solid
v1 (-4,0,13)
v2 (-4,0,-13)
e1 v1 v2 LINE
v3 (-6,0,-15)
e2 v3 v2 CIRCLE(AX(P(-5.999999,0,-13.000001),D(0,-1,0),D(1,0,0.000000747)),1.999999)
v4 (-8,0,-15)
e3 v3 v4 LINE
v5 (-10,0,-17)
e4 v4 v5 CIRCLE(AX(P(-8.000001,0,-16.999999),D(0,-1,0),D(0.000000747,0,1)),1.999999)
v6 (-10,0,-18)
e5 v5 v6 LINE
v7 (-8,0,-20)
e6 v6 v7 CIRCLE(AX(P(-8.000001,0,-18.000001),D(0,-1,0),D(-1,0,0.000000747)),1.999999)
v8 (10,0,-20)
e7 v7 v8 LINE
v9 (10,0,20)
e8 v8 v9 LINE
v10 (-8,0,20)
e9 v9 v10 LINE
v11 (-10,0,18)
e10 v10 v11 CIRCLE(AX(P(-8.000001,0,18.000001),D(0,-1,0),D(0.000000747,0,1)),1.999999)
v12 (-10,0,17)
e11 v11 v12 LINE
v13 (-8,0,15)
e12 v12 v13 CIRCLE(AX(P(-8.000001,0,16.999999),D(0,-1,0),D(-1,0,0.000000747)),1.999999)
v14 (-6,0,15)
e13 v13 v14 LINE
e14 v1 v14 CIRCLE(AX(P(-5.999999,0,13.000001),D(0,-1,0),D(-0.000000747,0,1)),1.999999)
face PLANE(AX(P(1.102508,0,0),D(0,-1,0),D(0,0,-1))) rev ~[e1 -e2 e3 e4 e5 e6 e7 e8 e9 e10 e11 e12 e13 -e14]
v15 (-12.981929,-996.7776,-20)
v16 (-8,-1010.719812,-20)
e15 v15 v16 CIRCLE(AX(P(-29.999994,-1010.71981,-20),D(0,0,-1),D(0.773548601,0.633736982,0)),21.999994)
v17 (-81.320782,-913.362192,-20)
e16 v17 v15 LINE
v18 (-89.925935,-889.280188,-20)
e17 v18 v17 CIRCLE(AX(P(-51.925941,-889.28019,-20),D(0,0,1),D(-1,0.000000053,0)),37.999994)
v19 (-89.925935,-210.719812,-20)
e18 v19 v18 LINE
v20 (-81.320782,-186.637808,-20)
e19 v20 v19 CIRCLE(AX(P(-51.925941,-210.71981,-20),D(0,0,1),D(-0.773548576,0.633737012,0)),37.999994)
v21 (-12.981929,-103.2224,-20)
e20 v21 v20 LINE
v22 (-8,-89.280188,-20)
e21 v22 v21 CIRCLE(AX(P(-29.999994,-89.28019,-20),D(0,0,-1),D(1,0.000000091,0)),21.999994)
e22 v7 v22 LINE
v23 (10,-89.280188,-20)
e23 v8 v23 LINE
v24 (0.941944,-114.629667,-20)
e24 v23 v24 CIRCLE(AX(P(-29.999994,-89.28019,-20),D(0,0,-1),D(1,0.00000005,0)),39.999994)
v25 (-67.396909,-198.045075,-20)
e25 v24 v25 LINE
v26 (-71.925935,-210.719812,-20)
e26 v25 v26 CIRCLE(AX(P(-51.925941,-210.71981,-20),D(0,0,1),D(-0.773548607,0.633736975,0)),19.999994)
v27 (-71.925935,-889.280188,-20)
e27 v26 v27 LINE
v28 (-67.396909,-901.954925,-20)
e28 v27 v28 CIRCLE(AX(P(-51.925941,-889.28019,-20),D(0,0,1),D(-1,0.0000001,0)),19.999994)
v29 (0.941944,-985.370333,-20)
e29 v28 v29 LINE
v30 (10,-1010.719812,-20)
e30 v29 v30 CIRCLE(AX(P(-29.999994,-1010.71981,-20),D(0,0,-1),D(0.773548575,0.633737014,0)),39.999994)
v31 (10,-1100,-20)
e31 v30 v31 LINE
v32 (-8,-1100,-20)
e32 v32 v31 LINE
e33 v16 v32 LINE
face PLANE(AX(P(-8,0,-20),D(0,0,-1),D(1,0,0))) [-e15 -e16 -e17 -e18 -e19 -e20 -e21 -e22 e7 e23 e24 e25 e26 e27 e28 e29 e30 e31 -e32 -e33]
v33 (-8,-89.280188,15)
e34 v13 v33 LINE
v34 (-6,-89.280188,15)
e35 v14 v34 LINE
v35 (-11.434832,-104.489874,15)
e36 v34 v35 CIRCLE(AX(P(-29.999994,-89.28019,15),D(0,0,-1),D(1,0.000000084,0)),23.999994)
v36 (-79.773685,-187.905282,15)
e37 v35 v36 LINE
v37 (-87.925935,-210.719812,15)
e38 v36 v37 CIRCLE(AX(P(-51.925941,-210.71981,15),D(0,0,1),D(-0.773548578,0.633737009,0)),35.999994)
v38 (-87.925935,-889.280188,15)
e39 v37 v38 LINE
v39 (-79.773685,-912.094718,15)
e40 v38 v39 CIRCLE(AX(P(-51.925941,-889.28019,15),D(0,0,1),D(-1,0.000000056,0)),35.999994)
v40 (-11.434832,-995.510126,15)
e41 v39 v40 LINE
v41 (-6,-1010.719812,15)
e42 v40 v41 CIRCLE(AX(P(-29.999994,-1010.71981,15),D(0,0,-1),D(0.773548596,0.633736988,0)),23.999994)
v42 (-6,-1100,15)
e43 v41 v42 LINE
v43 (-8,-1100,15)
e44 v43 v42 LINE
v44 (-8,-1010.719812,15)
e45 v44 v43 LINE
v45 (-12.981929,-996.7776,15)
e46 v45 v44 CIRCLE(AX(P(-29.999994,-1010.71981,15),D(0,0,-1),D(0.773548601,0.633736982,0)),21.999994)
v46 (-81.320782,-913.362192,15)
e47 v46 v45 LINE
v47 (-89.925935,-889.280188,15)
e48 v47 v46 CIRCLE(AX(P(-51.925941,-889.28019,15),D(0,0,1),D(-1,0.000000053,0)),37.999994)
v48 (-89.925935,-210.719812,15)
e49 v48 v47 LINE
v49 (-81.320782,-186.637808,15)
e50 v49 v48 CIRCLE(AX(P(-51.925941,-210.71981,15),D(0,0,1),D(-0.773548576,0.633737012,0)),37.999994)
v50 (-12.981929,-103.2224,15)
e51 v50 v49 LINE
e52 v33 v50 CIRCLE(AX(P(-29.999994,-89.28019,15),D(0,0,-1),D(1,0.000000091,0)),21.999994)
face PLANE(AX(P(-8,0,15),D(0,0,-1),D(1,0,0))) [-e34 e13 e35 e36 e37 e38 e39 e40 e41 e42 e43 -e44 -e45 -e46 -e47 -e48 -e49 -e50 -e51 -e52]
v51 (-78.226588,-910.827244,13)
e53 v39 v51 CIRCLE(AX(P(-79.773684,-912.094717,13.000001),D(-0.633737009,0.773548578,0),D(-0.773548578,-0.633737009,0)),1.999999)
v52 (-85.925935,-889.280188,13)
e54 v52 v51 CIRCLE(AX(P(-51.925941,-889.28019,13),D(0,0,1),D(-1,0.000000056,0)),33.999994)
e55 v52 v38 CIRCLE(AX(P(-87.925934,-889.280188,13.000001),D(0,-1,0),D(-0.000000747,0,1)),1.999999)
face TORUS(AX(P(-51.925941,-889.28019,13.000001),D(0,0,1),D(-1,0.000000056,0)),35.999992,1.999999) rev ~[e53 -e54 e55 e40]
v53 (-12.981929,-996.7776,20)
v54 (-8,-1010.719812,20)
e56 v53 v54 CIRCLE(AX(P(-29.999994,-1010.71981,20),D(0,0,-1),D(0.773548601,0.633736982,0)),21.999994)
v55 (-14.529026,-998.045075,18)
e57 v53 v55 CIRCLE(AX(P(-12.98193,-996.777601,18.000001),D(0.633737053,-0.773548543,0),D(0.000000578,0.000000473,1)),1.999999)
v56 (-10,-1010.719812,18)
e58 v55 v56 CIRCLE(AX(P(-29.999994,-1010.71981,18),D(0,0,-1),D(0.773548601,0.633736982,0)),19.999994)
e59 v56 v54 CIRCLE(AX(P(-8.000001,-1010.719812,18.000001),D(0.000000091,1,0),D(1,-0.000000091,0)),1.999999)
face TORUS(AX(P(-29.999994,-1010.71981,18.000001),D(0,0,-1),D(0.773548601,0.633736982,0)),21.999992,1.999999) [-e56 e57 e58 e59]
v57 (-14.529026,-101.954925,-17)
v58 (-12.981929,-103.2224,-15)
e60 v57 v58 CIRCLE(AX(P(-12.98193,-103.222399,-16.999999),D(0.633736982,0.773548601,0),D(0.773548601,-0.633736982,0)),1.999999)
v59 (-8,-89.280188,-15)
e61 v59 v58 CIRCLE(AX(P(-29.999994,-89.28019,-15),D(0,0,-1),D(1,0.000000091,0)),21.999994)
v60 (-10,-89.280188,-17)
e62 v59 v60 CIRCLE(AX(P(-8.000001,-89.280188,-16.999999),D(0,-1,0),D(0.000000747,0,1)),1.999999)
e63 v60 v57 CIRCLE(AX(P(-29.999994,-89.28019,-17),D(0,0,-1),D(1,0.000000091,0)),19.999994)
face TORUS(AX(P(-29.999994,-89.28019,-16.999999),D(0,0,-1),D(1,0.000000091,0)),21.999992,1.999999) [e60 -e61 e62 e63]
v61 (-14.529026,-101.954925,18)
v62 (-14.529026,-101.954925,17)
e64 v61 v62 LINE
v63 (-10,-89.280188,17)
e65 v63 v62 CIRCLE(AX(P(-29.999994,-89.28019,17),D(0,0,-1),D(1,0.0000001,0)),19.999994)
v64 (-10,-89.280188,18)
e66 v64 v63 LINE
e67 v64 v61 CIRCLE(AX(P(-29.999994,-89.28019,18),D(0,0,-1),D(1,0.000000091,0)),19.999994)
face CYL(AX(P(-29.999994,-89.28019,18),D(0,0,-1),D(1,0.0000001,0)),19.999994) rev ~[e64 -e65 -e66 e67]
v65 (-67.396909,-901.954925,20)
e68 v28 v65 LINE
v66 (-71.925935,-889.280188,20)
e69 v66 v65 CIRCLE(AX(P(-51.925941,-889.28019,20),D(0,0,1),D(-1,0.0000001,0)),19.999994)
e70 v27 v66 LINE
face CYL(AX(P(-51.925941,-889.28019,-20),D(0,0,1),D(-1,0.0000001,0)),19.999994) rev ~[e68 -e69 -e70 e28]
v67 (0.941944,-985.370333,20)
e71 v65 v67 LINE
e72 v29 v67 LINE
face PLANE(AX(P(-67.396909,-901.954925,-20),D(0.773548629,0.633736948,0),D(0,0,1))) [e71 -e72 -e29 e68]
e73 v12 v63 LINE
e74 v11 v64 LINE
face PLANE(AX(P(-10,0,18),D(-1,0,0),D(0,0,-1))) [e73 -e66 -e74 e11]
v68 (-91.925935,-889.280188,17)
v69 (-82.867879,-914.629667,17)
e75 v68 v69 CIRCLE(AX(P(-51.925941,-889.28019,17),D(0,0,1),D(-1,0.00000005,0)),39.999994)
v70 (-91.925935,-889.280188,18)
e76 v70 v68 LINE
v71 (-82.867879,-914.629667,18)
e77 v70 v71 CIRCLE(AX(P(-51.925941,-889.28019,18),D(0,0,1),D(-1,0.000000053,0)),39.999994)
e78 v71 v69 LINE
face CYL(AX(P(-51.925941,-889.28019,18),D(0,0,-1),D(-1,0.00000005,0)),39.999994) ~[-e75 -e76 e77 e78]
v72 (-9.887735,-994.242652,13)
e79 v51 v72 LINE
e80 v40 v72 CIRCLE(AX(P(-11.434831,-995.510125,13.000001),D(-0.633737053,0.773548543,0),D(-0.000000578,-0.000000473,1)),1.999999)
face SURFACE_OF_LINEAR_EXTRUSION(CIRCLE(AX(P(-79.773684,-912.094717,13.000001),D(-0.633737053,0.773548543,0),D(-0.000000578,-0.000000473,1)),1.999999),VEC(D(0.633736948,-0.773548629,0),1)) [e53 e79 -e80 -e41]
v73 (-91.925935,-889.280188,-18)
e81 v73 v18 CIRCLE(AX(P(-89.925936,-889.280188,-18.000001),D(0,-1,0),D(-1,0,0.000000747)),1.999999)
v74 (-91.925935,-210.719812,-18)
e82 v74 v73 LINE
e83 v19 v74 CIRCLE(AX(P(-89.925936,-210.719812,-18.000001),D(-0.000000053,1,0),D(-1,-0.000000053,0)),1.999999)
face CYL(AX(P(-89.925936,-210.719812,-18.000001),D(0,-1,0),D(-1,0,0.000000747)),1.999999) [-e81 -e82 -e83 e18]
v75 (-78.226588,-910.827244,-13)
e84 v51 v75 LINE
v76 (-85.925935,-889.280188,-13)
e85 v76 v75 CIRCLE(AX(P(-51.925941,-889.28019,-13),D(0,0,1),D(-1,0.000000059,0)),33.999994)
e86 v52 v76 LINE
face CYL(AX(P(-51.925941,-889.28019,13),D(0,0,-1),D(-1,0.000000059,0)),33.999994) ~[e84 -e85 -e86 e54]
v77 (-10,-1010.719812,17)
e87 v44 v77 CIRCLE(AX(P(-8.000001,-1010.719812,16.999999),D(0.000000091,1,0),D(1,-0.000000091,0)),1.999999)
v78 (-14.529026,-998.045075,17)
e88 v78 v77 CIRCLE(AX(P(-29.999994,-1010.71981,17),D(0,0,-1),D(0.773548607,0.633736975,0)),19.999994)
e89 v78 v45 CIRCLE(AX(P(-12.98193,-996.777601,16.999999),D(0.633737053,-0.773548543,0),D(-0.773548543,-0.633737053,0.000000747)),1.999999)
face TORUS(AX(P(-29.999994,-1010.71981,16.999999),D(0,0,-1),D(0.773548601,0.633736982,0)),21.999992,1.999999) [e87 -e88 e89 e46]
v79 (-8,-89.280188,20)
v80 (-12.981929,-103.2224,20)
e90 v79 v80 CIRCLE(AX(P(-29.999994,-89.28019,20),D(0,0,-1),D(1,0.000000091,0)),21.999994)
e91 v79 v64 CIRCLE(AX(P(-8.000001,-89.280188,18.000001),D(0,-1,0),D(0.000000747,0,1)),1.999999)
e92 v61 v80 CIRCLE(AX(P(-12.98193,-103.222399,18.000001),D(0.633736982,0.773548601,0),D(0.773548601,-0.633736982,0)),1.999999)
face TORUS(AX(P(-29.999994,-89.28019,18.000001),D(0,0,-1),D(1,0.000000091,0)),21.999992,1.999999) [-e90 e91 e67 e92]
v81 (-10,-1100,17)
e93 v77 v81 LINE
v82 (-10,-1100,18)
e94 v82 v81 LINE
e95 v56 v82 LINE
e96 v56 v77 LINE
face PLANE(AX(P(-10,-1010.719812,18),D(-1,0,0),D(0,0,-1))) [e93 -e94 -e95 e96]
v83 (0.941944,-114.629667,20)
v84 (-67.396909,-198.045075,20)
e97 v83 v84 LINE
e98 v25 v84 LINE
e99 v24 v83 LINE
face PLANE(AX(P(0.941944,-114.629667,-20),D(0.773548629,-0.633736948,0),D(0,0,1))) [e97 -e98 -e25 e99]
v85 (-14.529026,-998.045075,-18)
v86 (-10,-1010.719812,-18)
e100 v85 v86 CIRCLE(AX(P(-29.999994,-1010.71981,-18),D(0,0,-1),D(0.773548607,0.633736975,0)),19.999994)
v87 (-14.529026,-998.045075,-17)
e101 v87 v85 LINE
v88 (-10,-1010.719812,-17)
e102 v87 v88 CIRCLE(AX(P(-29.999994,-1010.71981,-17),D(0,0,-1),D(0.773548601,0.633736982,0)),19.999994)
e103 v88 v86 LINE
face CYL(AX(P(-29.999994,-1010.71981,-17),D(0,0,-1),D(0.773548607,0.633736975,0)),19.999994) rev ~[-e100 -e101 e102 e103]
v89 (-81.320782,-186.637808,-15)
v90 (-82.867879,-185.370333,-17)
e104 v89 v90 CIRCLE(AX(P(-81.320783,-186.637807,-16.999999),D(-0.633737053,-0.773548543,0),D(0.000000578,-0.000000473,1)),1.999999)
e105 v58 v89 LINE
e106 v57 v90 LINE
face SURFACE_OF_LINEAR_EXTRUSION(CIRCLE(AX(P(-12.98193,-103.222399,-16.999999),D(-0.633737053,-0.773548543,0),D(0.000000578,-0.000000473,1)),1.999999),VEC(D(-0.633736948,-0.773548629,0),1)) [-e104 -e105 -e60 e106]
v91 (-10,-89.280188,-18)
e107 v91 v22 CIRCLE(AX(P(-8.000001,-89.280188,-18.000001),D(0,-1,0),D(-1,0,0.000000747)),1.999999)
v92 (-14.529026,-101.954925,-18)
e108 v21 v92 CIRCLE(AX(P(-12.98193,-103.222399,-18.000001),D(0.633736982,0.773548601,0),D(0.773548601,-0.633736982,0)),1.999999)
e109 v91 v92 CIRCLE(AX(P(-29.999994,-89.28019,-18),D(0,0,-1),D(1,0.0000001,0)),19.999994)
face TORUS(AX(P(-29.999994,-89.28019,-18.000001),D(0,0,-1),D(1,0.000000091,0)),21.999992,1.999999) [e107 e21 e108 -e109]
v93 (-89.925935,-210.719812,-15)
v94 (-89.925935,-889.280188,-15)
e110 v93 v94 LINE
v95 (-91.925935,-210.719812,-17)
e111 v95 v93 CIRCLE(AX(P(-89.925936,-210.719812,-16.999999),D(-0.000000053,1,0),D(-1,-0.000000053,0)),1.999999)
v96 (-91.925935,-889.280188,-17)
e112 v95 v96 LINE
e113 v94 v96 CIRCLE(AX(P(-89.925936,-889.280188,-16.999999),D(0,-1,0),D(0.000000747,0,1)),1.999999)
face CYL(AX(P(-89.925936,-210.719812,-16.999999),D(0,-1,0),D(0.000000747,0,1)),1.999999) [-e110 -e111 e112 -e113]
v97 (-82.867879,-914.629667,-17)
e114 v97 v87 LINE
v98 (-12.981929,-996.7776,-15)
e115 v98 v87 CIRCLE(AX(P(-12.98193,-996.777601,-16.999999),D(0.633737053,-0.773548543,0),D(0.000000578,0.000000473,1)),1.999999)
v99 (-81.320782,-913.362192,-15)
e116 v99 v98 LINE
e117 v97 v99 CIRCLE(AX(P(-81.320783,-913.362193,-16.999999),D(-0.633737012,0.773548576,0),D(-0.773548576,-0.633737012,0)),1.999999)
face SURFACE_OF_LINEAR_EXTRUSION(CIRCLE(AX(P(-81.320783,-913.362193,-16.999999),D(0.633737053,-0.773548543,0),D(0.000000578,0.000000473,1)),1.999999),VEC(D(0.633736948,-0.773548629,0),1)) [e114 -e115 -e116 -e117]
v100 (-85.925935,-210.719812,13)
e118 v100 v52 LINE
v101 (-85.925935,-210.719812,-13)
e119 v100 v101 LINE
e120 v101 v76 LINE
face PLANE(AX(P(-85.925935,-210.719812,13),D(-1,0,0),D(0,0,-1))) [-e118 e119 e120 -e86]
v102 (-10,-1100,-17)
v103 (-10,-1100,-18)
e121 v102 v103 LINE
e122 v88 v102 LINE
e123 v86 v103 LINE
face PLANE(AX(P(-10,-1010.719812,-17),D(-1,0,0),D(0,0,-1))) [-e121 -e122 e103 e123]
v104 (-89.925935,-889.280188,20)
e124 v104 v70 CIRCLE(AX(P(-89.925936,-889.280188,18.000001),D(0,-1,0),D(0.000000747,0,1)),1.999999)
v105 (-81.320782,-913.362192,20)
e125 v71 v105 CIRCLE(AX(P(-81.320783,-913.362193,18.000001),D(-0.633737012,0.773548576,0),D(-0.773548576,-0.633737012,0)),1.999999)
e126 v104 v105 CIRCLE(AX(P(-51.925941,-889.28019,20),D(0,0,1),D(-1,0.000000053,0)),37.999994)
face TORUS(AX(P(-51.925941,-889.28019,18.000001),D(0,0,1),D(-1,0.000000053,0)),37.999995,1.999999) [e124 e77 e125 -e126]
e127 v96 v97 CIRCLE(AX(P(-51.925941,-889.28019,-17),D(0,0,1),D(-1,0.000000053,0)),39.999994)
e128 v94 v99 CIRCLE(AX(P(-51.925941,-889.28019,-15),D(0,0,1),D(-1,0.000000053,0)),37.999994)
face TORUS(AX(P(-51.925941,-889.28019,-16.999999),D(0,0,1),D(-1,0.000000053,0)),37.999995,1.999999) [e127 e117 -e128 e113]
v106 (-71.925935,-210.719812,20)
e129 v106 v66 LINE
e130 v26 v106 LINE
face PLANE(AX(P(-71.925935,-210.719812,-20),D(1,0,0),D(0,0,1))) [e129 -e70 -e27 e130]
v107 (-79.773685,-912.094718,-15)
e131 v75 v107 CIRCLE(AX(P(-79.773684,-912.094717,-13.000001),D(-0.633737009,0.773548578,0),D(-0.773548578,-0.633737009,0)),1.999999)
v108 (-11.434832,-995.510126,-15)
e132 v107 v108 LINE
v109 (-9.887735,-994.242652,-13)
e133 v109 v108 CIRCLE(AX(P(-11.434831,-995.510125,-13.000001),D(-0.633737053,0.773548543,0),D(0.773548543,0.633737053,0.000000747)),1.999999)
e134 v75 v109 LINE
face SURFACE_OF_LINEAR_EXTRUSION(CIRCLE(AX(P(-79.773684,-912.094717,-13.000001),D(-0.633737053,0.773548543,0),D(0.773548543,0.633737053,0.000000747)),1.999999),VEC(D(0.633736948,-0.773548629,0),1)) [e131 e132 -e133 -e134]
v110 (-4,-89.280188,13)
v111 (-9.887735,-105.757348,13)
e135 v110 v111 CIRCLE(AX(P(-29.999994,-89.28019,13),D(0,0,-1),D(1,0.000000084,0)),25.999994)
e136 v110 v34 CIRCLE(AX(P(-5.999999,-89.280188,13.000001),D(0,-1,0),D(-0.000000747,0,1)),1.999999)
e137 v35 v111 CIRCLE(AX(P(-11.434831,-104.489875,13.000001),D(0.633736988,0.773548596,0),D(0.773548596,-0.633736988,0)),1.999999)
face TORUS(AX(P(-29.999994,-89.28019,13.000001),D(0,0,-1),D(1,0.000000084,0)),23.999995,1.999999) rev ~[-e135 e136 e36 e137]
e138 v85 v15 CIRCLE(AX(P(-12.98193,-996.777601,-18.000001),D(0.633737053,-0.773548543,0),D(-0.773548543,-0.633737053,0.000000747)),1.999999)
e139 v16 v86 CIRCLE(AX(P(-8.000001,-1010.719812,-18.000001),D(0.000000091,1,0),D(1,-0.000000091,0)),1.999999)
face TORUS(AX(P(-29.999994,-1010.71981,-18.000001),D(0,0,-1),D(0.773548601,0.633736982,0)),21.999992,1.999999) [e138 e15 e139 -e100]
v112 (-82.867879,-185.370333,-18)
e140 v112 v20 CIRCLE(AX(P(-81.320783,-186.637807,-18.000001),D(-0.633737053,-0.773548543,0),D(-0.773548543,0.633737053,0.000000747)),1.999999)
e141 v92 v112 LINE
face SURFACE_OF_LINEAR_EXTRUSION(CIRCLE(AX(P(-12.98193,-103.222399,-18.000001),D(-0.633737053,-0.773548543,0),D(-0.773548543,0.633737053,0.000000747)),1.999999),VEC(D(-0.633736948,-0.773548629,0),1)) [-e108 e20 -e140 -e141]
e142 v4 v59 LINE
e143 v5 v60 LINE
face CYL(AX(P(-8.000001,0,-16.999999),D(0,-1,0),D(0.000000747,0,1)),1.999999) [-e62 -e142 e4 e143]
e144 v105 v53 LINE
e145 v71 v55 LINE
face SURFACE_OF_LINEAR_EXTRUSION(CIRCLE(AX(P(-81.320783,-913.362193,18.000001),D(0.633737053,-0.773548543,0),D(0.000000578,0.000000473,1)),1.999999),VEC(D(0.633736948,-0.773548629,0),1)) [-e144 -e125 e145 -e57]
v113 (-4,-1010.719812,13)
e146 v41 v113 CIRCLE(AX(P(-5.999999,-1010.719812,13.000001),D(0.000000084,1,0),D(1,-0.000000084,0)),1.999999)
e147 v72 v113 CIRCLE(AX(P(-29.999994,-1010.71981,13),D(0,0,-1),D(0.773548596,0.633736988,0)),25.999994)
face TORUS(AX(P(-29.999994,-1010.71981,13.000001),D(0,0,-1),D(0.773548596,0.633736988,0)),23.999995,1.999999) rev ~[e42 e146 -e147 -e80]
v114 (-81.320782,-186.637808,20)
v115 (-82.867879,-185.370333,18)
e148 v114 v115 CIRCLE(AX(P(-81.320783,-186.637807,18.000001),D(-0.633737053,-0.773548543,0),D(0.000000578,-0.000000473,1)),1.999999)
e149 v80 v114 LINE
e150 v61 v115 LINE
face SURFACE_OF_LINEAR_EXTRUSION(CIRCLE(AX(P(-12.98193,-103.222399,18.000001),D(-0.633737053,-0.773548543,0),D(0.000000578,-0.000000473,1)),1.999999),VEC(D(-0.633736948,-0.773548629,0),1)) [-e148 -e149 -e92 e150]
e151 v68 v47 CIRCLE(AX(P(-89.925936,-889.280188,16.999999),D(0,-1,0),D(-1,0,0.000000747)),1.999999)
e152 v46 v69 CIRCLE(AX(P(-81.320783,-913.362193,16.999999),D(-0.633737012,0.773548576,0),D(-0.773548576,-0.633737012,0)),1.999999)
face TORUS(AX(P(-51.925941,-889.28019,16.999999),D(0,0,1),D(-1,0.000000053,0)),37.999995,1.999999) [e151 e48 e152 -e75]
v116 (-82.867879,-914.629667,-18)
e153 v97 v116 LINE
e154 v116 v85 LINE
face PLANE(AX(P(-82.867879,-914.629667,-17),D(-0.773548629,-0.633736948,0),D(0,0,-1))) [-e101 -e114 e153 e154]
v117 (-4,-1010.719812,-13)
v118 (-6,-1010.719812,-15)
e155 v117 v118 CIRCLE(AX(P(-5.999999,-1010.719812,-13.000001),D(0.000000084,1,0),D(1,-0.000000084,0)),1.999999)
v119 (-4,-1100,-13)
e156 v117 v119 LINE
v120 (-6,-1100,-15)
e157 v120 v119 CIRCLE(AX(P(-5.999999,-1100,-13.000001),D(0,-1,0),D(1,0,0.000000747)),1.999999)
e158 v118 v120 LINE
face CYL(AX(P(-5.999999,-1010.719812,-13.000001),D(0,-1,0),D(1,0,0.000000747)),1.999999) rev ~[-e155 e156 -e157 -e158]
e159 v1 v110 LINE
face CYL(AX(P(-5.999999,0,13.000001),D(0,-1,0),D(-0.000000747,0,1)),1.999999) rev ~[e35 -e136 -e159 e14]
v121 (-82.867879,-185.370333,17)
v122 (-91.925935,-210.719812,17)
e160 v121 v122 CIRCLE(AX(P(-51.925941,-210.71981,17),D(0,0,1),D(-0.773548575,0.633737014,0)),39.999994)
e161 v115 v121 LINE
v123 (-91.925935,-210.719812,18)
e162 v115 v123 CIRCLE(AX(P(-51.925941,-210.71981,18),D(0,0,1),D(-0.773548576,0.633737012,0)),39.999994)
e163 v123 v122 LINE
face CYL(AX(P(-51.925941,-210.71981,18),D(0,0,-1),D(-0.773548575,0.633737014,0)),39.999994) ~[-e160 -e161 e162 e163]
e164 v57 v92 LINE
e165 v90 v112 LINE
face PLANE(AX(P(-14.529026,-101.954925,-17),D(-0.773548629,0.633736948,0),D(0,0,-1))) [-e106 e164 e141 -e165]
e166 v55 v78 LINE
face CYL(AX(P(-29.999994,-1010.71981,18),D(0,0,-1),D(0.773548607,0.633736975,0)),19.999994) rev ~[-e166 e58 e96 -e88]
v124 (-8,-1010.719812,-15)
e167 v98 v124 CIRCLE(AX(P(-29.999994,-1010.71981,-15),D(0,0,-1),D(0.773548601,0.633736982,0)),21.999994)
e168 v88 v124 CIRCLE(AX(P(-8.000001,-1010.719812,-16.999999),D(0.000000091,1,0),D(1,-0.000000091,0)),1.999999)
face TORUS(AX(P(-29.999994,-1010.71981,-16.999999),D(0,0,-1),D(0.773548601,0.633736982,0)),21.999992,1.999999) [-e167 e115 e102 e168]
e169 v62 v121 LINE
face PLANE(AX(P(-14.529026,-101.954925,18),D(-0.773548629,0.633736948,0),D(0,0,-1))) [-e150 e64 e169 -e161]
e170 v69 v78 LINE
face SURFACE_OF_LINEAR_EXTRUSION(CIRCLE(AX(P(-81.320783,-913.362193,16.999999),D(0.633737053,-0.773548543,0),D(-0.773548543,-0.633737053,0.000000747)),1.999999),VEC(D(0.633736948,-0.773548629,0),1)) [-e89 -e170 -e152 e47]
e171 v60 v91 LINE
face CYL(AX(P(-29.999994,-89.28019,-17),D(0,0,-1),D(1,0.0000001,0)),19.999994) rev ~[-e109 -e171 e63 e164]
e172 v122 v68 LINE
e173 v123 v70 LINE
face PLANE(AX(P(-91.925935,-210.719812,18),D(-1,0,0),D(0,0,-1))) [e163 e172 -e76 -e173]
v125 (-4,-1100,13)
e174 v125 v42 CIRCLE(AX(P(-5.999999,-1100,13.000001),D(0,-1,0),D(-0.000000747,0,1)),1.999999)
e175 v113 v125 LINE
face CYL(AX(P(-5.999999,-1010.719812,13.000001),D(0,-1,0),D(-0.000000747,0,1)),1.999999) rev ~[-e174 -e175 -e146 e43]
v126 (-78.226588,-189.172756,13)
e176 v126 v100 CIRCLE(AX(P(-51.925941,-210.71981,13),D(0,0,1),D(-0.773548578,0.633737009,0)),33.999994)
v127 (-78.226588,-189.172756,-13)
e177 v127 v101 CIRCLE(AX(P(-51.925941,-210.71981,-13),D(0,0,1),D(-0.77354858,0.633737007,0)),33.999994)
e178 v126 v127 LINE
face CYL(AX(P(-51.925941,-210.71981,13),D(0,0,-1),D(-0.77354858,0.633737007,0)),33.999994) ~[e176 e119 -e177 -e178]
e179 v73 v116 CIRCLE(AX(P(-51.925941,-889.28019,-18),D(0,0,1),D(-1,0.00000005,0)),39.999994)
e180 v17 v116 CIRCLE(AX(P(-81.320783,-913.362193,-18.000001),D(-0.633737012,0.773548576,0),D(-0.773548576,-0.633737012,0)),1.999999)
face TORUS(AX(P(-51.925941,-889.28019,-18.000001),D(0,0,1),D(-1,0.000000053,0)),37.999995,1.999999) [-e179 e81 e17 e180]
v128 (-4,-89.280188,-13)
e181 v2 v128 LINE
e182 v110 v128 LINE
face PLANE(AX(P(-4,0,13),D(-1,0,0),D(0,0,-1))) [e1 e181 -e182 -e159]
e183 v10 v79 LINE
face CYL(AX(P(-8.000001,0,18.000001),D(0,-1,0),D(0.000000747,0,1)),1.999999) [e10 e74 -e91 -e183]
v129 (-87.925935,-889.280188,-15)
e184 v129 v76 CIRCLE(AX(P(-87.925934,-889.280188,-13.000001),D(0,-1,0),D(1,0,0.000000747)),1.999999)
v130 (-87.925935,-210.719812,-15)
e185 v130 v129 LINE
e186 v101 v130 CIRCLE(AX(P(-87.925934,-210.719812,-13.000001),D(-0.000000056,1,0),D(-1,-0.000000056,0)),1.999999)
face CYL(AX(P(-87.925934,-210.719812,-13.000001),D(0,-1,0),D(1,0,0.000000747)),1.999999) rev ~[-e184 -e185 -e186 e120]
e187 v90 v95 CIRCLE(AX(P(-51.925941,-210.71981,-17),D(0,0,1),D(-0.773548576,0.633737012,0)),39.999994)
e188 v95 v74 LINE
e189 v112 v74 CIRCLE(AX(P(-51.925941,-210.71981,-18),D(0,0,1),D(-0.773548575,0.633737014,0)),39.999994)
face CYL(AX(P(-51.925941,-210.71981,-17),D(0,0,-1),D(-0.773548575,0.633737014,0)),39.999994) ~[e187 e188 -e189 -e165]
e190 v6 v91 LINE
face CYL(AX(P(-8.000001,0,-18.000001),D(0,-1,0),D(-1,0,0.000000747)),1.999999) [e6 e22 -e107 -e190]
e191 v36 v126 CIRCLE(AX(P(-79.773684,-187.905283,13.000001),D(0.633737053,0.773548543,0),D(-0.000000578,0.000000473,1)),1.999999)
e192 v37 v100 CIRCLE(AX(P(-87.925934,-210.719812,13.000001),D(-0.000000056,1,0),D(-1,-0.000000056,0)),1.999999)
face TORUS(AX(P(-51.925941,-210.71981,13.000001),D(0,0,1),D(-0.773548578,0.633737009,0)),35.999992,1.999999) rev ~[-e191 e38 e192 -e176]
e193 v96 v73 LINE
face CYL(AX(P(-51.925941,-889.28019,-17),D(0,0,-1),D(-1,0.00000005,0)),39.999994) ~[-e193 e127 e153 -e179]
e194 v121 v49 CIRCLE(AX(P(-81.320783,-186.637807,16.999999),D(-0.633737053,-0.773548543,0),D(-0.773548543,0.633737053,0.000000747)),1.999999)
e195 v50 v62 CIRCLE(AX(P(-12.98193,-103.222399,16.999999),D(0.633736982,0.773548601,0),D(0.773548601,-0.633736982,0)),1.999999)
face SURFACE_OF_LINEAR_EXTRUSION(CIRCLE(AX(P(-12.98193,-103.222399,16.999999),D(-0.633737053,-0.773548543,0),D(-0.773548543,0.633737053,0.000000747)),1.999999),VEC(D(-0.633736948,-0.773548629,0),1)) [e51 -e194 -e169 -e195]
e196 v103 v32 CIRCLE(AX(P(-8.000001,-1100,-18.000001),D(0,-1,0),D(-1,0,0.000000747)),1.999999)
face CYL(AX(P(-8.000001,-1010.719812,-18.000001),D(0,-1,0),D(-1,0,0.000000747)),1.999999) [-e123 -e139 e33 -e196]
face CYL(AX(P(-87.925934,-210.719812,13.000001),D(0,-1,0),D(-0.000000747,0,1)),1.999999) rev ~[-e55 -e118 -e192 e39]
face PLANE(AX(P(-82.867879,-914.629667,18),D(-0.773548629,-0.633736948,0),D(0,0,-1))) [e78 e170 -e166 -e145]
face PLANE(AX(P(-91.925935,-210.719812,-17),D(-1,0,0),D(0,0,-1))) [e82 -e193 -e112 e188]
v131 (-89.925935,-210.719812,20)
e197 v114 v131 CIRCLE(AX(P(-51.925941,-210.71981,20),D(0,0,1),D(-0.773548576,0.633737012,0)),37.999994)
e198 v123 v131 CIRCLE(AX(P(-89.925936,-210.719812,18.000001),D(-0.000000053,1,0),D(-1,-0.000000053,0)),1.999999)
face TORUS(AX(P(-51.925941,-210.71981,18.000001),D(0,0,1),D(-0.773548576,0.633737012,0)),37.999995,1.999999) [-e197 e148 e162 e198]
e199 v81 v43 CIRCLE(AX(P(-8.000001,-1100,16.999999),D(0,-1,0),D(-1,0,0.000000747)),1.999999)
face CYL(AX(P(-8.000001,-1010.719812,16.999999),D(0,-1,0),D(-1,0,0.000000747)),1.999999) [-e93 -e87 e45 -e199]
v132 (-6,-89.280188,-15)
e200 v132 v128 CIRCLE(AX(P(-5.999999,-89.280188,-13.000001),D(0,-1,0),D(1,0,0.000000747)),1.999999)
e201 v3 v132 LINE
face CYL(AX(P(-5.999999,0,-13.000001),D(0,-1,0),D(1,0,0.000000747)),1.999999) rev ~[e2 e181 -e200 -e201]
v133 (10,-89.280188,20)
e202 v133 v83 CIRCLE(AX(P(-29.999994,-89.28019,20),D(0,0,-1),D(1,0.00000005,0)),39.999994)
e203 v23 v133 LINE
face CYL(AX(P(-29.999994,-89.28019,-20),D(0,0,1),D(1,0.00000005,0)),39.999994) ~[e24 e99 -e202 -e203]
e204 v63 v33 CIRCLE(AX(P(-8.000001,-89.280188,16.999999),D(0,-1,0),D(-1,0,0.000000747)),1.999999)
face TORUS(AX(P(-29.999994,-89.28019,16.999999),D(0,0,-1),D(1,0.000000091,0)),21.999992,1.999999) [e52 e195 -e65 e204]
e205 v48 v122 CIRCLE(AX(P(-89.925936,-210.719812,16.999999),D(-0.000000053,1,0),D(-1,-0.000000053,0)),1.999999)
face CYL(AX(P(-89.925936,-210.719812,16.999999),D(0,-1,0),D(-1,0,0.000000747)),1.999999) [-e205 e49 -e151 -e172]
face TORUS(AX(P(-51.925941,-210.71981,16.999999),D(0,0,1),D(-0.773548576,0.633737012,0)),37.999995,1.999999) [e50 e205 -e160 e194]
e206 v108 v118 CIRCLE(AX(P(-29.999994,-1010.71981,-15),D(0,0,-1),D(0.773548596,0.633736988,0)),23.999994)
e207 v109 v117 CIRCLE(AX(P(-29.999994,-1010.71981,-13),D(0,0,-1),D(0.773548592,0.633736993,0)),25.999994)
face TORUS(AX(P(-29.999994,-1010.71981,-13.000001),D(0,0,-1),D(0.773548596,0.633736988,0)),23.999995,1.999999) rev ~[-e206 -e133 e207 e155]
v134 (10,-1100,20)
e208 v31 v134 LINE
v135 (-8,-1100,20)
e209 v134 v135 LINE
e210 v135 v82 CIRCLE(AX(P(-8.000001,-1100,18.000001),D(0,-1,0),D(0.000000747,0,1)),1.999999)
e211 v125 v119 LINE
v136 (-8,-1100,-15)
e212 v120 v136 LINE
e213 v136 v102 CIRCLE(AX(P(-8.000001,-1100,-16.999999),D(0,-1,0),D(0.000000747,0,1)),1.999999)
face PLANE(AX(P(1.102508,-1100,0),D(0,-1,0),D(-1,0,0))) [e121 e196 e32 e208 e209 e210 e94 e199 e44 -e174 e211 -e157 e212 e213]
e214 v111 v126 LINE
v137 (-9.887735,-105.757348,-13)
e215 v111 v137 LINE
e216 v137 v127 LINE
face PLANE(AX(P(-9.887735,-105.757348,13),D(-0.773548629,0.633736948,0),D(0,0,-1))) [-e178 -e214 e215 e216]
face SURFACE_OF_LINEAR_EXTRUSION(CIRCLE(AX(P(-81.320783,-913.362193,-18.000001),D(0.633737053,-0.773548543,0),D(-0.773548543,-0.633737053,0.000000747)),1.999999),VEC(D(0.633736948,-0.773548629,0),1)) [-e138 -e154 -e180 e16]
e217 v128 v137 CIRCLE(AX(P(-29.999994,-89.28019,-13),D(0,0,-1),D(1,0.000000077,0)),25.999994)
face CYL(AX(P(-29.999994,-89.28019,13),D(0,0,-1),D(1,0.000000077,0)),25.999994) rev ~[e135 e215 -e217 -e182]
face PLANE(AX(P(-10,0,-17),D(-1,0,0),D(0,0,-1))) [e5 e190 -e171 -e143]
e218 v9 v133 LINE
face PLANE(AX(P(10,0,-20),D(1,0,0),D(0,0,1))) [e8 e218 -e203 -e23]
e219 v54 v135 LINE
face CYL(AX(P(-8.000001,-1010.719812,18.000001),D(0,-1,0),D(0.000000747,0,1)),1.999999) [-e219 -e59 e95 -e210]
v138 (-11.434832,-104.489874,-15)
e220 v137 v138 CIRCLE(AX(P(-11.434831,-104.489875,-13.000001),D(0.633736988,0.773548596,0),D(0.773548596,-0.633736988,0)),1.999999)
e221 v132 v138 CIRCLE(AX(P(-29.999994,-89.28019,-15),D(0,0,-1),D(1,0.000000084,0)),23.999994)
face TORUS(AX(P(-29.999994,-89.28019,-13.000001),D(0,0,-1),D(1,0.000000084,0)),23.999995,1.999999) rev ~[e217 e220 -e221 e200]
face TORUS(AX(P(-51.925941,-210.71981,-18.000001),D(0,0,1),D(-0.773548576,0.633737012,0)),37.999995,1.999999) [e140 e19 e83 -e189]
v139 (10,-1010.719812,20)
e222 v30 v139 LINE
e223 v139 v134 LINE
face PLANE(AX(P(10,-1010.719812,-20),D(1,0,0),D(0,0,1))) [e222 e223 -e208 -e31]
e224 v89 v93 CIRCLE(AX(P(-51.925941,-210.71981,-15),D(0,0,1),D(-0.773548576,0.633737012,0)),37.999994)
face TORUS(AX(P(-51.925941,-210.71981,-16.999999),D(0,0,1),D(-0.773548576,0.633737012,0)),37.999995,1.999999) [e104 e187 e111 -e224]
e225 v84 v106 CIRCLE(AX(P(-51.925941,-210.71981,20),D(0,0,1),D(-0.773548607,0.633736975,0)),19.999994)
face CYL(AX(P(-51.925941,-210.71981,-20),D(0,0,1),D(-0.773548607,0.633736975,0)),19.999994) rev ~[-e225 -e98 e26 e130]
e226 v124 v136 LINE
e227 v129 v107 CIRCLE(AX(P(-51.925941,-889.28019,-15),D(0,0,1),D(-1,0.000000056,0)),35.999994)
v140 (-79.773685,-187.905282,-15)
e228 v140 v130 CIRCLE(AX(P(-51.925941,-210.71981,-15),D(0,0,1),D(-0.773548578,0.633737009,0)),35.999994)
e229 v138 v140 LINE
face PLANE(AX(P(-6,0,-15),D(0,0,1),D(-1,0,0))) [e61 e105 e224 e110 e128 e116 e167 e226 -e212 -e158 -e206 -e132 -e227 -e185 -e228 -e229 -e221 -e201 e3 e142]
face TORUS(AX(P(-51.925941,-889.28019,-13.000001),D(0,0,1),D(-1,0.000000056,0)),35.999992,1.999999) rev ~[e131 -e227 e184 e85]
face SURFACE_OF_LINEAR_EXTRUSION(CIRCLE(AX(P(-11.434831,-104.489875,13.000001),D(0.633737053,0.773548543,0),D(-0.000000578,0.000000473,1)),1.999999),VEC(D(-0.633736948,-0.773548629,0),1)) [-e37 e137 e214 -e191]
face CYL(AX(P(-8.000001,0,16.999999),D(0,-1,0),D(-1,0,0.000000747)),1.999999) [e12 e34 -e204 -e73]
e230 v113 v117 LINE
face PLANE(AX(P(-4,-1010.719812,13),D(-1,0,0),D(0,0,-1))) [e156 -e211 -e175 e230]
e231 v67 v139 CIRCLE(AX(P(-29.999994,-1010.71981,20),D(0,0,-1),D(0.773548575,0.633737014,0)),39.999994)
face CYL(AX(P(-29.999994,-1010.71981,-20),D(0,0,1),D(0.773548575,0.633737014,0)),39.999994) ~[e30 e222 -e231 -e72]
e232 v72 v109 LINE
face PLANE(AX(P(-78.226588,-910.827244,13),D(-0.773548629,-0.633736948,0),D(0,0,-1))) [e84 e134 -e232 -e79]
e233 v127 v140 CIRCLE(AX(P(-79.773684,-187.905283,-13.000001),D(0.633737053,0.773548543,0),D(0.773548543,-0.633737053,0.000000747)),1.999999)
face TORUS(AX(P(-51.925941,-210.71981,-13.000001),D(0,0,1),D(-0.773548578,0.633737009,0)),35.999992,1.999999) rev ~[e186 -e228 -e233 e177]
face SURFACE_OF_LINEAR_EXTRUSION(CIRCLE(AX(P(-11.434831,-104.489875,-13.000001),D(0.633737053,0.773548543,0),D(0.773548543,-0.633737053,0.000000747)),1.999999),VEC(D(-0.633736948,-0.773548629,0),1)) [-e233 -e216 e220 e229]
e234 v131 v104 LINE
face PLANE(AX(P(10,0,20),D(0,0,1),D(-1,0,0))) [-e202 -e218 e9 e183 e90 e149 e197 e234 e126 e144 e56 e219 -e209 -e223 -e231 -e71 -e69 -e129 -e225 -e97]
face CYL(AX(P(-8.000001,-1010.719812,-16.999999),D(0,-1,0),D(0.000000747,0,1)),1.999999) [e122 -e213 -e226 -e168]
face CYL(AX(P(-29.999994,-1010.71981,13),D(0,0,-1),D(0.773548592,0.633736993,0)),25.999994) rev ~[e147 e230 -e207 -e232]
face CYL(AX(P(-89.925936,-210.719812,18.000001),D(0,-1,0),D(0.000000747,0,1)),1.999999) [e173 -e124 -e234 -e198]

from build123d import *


with BuildPart() as f2:
    # F2: sweep along a path in F1
    with BuildLine(Plane.XY) as f2_path:
        Line((0, 0), (0, -89.280188))
        ThreePointArc((0, -89.280188), (-1.749391, -99.374895), (-6.793541, -108.292296))
        Line((-6.793541, -108.292296), (-75.132394, -191.707704))
        ThreePointArc((-75.132394, -191.707704), (-80.176544, -200.625105), (-81.925935, -210.719812))
        Line((-81.925935, -210.719812), (-81.925935, -550))
        Line((-81.925935, -550), (-81.925935, -889.280188))
        ThreePointArc((-81.925935, -889.280188), (-80.176544, -899.374895), (-75.132394, -908.292296))
        Line((-75.132394, -908.292296), (-6.793541, -991.707704))
        ThreePointArc((-6.793541, -991.707704), (-1.749391, -1000.625105), (0, -1010.719812))
        Line((0, -1010.719812), (0, -1100))
    # F0 (on Front) → F2 (sweep)
    with BuildSketch(Plane.XZ):
        with BuildLine():
            Line((10, 20), (-8, 20))
            ThreePointArc((-8, 20), (-9.414214, 19.414214), (-10, 18))
            Line((-10, 18), (-10, 17))
            ThreePointArc((-10, 17), (-9.414214, 15.585786), (-8, 15))
            Line((-8, 15), (-6, 15))
            ThreePointArc((-6, 15), (-4.585786, 14.414214), (-4, 13))
            Line((-4, 13), (-4, -13))
            ThreePointArc((-4, -13), (-4.585786, -14.414214), (-6, -15))
            Line((-6, -15), (-8, -15))
            ThreePointArc((-8, -15), (-9.414214, -15.585786), (-10, -17))
            Line((-10, -17), (-10, -18))
            ThreePointArc((-10, -18), (-9.414214, -19.414214), (-8, -20))
            Line((-8, -20), (10, -20))
            Line((10, -20), (10, 20))
        make_face()
    sweep(path=f2_path.line)


solid = f2.part
